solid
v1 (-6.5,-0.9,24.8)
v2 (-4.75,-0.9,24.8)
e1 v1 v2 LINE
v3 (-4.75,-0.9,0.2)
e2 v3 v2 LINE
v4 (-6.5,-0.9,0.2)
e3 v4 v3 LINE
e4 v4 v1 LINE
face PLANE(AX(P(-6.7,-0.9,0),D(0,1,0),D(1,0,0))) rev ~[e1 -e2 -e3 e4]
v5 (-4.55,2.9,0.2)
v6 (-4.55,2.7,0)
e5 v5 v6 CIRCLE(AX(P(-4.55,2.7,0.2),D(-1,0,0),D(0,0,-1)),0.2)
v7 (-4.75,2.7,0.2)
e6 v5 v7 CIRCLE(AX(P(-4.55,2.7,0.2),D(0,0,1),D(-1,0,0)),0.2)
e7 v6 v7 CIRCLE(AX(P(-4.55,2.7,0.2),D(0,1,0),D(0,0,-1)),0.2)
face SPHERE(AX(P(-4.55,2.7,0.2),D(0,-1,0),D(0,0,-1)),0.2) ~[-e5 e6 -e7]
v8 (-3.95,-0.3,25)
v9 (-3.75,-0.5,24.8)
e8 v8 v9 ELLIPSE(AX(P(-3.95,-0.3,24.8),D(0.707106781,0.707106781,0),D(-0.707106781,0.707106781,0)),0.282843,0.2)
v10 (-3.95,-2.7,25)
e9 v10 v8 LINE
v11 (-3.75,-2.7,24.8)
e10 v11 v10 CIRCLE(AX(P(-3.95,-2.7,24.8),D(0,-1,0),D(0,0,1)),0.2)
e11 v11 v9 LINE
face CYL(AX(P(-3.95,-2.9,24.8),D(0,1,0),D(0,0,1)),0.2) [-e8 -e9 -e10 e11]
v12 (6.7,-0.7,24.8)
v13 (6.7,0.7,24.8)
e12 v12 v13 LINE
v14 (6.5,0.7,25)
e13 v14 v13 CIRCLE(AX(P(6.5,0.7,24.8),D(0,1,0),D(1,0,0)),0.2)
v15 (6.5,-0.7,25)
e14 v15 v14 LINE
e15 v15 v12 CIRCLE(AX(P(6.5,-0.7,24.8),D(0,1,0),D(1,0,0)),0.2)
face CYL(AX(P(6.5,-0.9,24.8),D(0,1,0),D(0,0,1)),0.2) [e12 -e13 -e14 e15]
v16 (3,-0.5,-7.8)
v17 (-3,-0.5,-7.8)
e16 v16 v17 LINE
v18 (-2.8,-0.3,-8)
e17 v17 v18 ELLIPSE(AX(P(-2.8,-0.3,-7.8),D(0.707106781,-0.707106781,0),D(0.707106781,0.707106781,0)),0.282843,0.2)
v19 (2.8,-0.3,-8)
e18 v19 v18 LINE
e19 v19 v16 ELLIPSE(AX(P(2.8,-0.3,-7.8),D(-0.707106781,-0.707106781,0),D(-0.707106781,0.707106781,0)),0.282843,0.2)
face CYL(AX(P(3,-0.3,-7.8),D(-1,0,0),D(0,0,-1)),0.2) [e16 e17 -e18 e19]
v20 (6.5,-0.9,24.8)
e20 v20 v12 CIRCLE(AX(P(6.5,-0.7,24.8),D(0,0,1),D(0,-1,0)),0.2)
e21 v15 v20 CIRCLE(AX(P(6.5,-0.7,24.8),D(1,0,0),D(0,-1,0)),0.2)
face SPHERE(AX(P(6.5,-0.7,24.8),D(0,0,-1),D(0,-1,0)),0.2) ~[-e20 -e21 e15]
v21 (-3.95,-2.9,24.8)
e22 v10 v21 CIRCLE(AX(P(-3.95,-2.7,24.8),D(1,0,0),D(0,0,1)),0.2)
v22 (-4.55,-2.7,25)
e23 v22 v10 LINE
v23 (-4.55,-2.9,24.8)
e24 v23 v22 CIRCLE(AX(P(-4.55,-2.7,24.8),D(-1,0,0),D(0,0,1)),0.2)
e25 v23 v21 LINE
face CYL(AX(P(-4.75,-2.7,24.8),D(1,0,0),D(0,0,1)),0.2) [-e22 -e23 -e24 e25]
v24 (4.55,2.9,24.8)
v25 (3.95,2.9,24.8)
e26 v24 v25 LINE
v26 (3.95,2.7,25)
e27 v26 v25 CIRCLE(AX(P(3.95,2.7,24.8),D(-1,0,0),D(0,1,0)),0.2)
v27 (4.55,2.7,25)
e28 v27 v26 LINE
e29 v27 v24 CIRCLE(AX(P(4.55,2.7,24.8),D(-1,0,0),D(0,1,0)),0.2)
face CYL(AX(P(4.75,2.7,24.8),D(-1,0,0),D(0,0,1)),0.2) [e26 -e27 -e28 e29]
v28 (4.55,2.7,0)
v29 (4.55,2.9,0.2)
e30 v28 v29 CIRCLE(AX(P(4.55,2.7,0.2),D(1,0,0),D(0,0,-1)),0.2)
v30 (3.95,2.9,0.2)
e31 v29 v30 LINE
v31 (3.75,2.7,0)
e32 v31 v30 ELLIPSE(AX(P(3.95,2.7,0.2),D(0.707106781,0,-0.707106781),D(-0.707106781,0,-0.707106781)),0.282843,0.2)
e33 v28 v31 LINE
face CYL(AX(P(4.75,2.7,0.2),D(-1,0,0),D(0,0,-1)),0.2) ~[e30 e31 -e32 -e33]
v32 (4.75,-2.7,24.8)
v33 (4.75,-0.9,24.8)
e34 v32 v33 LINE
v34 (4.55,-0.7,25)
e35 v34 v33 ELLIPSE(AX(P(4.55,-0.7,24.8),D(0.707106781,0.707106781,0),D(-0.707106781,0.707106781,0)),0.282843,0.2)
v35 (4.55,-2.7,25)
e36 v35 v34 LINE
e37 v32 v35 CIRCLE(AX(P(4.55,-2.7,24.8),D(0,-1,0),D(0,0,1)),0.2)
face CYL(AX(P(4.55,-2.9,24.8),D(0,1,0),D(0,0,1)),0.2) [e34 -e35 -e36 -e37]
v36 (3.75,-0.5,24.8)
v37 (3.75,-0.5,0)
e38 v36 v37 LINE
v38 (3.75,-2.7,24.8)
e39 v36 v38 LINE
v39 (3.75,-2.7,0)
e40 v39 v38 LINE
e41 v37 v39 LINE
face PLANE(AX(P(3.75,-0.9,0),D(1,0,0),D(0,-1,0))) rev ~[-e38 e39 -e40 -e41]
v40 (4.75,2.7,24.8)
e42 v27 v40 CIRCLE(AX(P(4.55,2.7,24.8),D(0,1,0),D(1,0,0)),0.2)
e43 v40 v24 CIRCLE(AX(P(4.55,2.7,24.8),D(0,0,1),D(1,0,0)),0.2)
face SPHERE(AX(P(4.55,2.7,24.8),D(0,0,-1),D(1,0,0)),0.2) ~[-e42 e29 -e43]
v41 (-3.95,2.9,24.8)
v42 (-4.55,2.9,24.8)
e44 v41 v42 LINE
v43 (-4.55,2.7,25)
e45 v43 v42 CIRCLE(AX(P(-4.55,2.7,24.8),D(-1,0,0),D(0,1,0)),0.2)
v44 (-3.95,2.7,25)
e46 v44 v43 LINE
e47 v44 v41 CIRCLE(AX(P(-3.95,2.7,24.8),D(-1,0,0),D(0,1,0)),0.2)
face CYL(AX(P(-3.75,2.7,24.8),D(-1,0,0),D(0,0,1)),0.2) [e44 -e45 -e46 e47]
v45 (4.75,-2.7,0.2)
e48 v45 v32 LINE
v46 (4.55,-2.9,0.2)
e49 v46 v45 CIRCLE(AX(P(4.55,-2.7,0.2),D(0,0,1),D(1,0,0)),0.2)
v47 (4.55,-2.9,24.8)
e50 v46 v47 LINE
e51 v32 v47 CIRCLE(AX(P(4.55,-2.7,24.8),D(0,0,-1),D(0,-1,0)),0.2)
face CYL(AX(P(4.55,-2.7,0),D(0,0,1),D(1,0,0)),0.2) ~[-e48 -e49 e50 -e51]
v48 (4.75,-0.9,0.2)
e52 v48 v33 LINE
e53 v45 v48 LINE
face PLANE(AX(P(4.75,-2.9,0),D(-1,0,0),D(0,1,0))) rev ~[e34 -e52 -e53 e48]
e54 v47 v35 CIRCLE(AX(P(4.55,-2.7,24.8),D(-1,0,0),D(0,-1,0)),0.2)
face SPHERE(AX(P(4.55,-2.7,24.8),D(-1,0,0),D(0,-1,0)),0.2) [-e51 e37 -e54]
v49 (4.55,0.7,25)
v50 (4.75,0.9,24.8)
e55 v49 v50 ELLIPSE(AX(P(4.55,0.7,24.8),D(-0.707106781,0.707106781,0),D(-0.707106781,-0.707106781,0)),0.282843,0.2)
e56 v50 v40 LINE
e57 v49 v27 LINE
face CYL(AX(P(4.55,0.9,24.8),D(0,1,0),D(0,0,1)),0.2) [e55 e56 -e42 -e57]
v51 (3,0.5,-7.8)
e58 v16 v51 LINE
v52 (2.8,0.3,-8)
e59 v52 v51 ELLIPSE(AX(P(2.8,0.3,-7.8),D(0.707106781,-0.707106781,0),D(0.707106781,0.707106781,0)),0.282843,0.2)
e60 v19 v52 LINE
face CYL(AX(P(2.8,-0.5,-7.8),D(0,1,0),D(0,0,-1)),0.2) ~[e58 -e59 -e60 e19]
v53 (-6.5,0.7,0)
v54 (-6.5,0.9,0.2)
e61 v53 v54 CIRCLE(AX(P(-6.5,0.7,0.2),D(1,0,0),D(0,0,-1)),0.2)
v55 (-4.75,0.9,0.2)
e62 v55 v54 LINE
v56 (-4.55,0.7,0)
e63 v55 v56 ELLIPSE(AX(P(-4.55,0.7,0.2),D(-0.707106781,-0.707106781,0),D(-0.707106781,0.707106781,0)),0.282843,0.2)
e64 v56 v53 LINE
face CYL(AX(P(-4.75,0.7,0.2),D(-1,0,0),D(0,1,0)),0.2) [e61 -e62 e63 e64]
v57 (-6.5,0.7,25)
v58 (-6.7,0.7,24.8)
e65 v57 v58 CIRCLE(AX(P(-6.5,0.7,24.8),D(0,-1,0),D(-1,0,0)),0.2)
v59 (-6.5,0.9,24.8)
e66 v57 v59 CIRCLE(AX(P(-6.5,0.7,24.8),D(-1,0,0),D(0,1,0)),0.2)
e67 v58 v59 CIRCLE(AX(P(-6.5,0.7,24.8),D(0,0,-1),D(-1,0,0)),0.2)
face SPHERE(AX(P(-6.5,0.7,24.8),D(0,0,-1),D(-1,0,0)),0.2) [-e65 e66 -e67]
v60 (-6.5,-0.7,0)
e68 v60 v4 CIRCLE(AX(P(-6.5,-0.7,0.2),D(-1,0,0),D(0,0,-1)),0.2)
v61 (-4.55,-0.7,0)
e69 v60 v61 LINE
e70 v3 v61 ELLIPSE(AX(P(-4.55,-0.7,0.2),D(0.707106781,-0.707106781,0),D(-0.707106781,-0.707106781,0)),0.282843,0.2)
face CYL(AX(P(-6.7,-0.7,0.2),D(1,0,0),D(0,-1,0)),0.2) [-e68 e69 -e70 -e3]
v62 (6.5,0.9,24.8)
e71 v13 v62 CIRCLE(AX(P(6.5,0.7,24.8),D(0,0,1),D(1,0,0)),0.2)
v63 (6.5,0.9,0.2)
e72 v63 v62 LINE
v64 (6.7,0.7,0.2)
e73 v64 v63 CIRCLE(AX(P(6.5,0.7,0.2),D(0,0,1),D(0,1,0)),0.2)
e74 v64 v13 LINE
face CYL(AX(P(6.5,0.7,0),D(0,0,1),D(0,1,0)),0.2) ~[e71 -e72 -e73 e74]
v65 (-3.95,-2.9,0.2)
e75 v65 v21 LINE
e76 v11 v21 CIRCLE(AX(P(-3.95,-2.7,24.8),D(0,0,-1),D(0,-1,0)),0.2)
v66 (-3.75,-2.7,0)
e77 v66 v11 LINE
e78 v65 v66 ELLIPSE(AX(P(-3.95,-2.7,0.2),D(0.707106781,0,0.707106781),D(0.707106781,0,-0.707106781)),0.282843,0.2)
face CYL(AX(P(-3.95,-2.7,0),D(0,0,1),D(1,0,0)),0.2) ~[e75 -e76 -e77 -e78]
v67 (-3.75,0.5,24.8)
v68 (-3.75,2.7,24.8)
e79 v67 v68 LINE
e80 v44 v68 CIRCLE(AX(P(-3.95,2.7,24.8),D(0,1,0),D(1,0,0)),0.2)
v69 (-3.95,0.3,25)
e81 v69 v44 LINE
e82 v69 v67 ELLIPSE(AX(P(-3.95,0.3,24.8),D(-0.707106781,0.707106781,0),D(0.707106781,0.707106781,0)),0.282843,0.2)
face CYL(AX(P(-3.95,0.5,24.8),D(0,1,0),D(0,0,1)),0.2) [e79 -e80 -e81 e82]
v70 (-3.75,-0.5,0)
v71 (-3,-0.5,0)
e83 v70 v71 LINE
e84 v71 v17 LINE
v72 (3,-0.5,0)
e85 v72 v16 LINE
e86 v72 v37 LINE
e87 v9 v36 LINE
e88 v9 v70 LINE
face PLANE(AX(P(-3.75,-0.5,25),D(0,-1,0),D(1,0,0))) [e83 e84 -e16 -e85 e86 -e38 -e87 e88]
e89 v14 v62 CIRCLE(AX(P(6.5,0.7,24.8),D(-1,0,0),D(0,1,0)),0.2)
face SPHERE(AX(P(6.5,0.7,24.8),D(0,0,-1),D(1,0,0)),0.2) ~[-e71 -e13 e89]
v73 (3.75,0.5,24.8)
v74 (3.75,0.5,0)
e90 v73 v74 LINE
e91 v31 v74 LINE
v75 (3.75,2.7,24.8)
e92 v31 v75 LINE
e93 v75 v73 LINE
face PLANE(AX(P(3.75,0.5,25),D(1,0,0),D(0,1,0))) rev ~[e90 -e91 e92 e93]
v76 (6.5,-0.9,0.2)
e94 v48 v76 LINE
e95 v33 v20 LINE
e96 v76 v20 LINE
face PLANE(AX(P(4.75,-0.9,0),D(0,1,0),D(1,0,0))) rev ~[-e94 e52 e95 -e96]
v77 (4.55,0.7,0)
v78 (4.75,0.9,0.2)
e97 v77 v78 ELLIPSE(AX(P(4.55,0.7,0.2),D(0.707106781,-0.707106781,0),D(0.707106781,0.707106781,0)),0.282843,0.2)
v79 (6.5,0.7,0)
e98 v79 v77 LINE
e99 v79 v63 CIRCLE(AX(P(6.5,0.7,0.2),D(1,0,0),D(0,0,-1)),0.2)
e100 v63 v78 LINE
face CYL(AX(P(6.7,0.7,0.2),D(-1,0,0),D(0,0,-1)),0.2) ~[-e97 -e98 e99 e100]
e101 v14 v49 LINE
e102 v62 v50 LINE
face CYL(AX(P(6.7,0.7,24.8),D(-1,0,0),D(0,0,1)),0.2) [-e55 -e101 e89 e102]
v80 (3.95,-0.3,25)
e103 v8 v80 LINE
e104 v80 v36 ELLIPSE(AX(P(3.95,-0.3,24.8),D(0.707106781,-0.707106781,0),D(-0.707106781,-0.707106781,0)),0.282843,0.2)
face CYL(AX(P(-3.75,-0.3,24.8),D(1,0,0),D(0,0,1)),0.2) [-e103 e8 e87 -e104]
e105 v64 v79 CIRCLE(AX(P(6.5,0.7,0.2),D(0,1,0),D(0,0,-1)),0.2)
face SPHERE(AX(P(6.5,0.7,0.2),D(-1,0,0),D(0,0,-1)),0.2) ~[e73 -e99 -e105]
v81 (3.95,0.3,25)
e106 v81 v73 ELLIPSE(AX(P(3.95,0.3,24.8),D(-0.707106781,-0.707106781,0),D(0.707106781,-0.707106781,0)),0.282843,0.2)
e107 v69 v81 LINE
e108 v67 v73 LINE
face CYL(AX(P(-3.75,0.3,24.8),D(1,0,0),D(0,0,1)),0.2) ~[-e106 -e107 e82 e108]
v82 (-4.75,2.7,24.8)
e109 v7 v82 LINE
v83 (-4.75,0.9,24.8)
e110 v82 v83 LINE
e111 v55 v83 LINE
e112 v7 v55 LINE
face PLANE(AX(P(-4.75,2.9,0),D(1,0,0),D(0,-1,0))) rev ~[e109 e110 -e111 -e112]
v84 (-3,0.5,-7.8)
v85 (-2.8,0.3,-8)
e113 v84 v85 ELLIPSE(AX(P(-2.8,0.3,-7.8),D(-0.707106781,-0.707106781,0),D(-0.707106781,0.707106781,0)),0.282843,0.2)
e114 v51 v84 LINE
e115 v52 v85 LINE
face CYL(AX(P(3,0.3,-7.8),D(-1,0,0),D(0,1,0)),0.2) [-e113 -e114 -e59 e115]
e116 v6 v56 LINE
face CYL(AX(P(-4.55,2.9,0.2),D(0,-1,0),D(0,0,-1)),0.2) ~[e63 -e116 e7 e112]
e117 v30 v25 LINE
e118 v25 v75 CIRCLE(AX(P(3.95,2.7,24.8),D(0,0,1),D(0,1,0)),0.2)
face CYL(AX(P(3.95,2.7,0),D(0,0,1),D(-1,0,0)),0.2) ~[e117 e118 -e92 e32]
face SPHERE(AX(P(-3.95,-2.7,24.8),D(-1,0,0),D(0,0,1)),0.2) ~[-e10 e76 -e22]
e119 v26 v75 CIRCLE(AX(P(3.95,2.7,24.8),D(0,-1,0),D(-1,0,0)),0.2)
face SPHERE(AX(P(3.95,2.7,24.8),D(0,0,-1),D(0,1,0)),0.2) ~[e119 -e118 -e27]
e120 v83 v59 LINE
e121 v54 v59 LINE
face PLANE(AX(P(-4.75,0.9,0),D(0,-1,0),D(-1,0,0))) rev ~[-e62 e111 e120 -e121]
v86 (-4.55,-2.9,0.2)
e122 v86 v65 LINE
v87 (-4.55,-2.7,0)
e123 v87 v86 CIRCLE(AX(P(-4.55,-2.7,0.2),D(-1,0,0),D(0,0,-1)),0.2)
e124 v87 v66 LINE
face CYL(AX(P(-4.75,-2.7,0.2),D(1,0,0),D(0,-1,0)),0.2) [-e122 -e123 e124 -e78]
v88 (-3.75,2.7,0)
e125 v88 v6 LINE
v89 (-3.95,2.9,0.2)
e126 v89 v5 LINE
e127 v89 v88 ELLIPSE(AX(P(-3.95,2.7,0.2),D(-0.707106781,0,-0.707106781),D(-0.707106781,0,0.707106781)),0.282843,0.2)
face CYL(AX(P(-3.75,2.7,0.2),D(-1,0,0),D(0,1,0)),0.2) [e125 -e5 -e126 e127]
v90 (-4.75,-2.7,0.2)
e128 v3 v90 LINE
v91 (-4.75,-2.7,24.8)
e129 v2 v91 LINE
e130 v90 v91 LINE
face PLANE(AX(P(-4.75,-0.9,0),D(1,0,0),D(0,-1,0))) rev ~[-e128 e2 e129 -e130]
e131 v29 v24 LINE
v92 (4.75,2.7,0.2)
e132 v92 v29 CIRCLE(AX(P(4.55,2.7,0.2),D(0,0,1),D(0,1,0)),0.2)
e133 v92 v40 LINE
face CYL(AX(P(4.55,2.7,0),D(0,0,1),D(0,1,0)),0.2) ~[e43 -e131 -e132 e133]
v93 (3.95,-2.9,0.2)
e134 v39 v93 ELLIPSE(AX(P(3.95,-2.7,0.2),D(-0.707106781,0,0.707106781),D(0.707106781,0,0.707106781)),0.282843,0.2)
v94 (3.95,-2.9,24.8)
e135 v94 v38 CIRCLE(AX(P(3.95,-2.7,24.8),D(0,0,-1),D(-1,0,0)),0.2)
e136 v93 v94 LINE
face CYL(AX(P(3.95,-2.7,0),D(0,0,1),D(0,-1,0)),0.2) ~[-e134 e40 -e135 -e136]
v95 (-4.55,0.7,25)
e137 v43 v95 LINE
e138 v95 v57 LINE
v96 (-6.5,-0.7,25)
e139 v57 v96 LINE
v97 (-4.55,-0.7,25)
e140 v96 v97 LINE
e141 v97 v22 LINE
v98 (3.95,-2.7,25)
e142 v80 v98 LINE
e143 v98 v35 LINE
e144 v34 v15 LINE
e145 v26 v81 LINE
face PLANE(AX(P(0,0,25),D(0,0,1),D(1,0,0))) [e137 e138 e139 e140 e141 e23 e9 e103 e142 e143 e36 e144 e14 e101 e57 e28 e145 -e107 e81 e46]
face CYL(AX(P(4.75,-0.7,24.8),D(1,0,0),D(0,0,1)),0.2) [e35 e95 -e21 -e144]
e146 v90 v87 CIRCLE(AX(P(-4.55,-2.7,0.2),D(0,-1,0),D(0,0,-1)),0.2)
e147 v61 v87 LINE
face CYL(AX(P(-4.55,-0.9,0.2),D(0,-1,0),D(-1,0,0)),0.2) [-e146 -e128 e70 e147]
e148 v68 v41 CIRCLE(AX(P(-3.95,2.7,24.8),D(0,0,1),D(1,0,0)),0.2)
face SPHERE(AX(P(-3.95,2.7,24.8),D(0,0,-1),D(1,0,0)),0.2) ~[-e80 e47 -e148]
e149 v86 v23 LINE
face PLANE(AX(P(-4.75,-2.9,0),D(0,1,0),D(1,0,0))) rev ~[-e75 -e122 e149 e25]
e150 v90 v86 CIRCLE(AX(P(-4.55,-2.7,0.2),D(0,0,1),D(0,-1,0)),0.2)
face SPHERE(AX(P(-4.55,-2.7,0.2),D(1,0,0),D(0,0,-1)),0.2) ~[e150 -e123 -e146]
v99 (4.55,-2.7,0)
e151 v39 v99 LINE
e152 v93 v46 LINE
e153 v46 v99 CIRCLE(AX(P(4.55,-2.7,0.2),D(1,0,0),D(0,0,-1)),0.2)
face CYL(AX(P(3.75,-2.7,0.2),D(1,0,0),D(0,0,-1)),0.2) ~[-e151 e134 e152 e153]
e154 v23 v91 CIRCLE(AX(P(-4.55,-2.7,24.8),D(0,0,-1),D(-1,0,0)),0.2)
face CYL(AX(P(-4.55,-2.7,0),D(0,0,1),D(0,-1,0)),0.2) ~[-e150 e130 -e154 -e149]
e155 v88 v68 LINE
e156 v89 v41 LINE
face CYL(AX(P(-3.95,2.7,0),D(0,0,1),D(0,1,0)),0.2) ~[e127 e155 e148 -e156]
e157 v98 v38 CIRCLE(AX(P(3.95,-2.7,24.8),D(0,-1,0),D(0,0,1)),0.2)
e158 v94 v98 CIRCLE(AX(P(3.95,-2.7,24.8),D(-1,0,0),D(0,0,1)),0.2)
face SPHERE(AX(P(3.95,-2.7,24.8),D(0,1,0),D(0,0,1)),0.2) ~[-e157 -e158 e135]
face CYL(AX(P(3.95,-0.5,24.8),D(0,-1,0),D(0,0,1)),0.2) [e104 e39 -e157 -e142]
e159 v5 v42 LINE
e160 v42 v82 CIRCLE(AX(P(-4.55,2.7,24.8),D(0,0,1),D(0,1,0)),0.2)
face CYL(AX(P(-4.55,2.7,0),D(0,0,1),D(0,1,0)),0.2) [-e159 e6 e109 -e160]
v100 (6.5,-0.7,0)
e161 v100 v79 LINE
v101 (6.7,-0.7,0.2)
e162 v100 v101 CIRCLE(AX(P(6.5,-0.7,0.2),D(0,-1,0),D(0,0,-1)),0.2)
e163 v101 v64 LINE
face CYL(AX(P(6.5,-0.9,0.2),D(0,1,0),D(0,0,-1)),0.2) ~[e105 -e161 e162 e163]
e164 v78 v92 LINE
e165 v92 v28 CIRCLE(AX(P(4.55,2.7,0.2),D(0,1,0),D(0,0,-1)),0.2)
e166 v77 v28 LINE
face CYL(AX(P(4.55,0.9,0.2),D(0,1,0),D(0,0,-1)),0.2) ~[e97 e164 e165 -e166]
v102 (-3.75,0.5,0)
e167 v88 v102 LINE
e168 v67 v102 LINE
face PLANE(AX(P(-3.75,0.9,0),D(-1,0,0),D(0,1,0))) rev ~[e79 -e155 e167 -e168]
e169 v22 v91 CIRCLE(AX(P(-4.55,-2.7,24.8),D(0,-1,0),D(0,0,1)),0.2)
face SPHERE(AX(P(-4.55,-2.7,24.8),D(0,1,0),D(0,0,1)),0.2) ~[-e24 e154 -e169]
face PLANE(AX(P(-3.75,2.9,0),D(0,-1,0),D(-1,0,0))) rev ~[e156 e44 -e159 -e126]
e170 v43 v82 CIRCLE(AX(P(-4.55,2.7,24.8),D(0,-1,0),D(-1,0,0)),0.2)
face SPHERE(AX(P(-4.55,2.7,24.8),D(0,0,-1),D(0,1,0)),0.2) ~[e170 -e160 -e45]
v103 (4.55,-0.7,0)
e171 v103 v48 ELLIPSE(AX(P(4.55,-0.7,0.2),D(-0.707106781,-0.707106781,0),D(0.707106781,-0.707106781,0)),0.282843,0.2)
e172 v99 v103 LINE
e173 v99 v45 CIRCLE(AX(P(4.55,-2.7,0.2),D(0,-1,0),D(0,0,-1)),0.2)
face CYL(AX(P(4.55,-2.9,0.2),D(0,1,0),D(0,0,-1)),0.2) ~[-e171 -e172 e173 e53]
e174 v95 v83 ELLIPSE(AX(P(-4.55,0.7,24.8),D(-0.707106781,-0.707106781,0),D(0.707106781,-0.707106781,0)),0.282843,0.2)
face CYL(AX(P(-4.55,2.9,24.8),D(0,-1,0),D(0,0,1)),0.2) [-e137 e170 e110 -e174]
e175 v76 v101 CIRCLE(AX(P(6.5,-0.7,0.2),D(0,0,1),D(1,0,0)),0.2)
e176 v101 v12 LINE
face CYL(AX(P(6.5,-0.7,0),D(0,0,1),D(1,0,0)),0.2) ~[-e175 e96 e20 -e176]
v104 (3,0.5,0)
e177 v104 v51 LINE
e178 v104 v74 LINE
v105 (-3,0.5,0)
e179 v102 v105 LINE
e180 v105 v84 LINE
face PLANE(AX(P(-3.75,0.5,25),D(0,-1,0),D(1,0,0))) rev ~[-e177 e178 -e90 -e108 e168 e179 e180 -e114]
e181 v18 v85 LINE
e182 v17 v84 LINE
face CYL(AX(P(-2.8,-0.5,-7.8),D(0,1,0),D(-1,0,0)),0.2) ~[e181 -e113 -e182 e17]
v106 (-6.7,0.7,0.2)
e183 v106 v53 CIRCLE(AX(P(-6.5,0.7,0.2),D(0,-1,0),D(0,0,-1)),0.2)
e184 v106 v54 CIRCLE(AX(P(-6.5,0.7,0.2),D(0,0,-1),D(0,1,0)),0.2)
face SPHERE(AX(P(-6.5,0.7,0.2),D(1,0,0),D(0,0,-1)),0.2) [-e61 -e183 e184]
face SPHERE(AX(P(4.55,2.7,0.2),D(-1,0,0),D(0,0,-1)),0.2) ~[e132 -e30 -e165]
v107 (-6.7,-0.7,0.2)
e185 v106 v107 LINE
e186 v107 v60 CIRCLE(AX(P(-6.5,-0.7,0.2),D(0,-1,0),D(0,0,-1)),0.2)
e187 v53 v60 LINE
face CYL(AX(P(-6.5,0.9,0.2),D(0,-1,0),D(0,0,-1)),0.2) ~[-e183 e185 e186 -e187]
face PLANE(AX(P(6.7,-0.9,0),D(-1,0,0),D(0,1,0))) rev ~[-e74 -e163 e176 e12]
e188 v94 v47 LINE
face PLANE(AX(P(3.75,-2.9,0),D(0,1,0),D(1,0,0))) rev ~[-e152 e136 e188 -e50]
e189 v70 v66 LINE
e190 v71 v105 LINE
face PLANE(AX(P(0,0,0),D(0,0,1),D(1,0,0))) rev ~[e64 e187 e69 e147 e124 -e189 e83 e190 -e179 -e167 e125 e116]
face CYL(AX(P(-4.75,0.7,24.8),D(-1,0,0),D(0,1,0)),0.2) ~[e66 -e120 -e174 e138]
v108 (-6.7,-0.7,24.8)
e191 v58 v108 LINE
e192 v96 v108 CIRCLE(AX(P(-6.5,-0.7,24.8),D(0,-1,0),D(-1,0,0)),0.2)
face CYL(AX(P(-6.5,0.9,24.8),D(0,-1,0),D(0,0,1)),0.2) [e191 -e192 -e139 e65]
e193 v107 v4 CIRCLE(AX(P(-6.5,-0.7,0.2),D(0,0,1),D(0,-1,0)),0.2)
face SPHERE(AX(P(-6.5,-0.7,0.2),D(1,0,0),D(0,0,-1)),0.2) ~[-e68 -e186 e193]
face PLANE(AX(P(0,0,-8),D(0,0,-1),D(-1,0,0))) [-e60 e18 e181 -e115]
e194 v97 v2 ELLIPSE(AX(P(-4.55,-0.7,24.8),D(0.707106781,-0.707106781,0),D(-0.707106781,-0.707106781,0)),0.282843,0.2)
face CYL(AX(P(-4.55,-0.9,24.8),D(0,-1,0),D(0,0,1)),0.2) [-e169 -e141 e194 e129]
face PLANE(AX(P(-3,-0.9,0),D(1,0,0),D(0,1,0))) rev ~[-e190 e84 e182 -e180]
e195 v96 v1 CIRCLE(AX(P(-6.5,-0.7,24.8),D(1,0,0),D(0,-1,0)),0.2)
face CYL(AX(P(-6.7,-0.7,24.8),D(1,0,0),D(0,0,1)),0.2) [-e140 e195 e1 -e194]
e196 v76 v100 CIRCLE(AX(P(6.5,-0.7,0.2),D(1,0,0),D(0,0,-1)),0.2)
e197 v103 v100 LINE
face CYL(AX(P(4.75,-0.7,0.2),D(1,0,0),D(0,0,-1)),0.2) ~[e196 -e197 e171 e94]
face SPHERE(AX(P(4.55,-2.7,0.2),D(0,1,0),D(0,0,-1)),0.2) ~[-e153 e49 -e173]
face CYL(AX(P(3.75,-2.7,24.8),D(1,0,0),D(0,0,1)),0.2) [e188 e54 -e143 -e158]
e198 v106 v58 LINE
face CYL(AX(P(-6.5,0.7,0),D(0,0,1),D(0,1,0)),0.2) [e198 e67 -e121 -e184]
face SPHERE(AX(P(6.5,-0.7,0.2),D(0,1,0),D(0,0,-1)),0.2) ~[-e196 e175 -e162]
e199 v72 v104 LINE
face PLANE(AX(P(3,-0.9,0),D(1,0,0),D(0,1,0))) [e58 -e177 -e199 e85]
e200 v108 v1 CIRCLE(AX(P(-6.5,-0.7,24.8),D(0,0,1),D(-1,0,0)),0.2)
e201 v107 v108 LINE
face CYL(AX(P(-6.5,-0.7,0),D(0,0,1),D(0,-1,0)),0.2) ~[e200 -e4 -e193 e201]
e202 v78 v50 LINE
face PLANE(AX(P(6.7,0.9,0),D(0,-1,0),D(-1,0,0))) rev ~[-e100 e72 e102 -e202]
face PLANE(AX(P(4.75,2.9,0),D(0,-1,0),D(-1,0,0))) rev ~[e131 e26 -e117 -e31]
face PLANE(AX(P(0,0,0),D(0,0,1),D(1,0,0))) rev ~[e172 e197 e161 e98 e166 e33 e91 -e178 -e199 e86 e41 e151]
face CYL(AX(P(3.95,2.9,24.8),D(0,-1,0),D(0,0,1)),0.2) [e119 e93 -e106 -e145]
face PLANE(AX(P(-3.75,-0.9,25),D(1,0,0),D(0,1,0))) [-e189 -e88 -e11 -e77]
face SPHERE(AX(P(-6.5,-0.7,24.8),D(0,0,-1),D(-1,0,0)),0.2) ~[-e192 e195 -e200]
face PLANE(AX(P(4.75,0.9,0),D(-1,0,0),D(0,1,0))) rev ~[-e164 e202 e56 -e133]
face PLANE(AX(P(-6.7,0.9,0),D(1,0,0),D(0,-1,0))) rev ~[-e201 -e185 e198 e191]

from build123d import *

# Parameters (mm, degrees)
AUFSATZ_LINEAR_AUSTRAGEN1_DEPTH = 25
SKIZZE2_W                       = 6
SKIZZE2_H                       = 1.8
AUFSATZ_LINEAR_AUSTRAGEN2_DEPTH = 8
SKIZZE3_W                       = 7.5
SKIZZE3_H                       = 0.4
SCHNITT_LINEAR_AUSTRAGEN1_DEPTH = 34
VERRUNDUNG1_R                   = 0.2


with BuildPart() as part:
    # Skizze1 → Aufsatz-Linear austragen1 (new body)
    with BuildSketch(Plane.XY):
        Polygon((-4.75, 0.9), (-6.7, 0.9), (-6.7, -0.9), (-4.75, -0.9), (-4.75, -2.9), (-3.75, -2.9), (-3.75, -0.9), (3.75, -0.9), (3.75, -2.9), (4.75, -2.9), (4.75, -0.9), (6.7, -0.9), (6.7, 0.9), (4.75, 0.9), (4.75, 2.9), (3.75, 2.9), (3.75, 0.9), (-3.75, 0.9), (-3.75, 2.9), (-4.75, 2.9), align=None)
    extrude(amount=AUFSATZ_LINEAR_AUSTRAGEN1_DEPTH)

    # Skizze2 → Aufsatz-Linear austragen2 (add)
    with BuildSketch(Plane(origin=(0, 0, 0), x_dir=(-1, 0, 0), z_dir=(0, 0, -1))):
        Rectangle(SKIZZE2_W, SKIZZE2_H)
    extrude(amount=AUFSATZ_LINEAR_AUSTRAGEN2_DEPTH)

    # Skizze3 → Schnitt-Linear austragen1 (cut, through all)
    with BuildSketch(Plane.XY.offset(25)):
        with Locations((0, -0.7)):
            Rectangle(SKIZZE3_W, SKIZZE3_H)
        with Locations((0, 0.7)):
            Rectangle(SKIZZE3_W, SKIZZE3_H)
    extrude(amount=-SCHNITT_LINEAR_AUSTRAGEN1_DEPTH, mode=Mode.SUBTRACT)

    # Verrundung1
    verrundung1_edges = [part.edges().sort_by_distance(p)[0] for p in [
        (0, 0.5, 25),
        (-4.75, -1.9, 25),
        (-4.25, -2.9, 25),
        (-5.725, 0.9, 0),
        (-4.75, 1.9, 0),
        (-4.25, 2.9, 0),
        (-3.75, -1.7, 25),
        (4.25, 2.9, 0),
        (4.75, 1.9, 0),
        (5.725, 0.9, 0),
        (6.7, 0, 0),
        (5.725, -0.9, 0),
        (4.75, -1.9, 0),
        (4.25, -2.9, 0),
        (-4.25, -2.9, 0),
        (-4.75, -1.9, 0),
        (-5.725, -0.9, 0),
        (-6.7, 0, 0),
        (3.75, -1.7, 25),
        (4.25, -2.9, 25),
        (-6.7, 0.9, 12.5),
        (-4.75, 2.9, 12.5),
        (-3.75, 2.9, 12.5),
        (3.75, 2.9, 12.5),
        (4.75, 2.9, 12.5),
        (6.7, 0.9, 12.5),
        (6.7, -0.9, 12.5),
        (4.75, -2.9, 12.5),
        (3.75, -2.9, 12.5),
        (-3.75, -2.9, 12.5),
        (-4.75, -2.9, 12.5),
        (-6.7, -0.9, 12.5),
        (4.75, -1.9, 25),
        (5.725, -0.9, 25),
        (6.7, 0, 25),
        (5.725, 0.9, 25),
        (-6.7, 0, 25),
        (4.75, 1.9, 25),
        (4.25, 2.9, 25),
        (3.75, 1.7, 25),
        (-3.75, 1.7, 25),
        (3, 0, -8),
        (-3, 0, -8),
        (-4.25, 2.9, 25),
        (0, 0.5, -8),
        (0, -0.5, -8),
        (-4.75, 1.9, 25),
        (-5.725, 0.9, 25),
        (0, -0.5, 25),
        (-5.725, -0.9, 25),
    ]]
    fillet(verrundung1_edges, radius=VERRUNDUNG1_R)


solid = part.part
